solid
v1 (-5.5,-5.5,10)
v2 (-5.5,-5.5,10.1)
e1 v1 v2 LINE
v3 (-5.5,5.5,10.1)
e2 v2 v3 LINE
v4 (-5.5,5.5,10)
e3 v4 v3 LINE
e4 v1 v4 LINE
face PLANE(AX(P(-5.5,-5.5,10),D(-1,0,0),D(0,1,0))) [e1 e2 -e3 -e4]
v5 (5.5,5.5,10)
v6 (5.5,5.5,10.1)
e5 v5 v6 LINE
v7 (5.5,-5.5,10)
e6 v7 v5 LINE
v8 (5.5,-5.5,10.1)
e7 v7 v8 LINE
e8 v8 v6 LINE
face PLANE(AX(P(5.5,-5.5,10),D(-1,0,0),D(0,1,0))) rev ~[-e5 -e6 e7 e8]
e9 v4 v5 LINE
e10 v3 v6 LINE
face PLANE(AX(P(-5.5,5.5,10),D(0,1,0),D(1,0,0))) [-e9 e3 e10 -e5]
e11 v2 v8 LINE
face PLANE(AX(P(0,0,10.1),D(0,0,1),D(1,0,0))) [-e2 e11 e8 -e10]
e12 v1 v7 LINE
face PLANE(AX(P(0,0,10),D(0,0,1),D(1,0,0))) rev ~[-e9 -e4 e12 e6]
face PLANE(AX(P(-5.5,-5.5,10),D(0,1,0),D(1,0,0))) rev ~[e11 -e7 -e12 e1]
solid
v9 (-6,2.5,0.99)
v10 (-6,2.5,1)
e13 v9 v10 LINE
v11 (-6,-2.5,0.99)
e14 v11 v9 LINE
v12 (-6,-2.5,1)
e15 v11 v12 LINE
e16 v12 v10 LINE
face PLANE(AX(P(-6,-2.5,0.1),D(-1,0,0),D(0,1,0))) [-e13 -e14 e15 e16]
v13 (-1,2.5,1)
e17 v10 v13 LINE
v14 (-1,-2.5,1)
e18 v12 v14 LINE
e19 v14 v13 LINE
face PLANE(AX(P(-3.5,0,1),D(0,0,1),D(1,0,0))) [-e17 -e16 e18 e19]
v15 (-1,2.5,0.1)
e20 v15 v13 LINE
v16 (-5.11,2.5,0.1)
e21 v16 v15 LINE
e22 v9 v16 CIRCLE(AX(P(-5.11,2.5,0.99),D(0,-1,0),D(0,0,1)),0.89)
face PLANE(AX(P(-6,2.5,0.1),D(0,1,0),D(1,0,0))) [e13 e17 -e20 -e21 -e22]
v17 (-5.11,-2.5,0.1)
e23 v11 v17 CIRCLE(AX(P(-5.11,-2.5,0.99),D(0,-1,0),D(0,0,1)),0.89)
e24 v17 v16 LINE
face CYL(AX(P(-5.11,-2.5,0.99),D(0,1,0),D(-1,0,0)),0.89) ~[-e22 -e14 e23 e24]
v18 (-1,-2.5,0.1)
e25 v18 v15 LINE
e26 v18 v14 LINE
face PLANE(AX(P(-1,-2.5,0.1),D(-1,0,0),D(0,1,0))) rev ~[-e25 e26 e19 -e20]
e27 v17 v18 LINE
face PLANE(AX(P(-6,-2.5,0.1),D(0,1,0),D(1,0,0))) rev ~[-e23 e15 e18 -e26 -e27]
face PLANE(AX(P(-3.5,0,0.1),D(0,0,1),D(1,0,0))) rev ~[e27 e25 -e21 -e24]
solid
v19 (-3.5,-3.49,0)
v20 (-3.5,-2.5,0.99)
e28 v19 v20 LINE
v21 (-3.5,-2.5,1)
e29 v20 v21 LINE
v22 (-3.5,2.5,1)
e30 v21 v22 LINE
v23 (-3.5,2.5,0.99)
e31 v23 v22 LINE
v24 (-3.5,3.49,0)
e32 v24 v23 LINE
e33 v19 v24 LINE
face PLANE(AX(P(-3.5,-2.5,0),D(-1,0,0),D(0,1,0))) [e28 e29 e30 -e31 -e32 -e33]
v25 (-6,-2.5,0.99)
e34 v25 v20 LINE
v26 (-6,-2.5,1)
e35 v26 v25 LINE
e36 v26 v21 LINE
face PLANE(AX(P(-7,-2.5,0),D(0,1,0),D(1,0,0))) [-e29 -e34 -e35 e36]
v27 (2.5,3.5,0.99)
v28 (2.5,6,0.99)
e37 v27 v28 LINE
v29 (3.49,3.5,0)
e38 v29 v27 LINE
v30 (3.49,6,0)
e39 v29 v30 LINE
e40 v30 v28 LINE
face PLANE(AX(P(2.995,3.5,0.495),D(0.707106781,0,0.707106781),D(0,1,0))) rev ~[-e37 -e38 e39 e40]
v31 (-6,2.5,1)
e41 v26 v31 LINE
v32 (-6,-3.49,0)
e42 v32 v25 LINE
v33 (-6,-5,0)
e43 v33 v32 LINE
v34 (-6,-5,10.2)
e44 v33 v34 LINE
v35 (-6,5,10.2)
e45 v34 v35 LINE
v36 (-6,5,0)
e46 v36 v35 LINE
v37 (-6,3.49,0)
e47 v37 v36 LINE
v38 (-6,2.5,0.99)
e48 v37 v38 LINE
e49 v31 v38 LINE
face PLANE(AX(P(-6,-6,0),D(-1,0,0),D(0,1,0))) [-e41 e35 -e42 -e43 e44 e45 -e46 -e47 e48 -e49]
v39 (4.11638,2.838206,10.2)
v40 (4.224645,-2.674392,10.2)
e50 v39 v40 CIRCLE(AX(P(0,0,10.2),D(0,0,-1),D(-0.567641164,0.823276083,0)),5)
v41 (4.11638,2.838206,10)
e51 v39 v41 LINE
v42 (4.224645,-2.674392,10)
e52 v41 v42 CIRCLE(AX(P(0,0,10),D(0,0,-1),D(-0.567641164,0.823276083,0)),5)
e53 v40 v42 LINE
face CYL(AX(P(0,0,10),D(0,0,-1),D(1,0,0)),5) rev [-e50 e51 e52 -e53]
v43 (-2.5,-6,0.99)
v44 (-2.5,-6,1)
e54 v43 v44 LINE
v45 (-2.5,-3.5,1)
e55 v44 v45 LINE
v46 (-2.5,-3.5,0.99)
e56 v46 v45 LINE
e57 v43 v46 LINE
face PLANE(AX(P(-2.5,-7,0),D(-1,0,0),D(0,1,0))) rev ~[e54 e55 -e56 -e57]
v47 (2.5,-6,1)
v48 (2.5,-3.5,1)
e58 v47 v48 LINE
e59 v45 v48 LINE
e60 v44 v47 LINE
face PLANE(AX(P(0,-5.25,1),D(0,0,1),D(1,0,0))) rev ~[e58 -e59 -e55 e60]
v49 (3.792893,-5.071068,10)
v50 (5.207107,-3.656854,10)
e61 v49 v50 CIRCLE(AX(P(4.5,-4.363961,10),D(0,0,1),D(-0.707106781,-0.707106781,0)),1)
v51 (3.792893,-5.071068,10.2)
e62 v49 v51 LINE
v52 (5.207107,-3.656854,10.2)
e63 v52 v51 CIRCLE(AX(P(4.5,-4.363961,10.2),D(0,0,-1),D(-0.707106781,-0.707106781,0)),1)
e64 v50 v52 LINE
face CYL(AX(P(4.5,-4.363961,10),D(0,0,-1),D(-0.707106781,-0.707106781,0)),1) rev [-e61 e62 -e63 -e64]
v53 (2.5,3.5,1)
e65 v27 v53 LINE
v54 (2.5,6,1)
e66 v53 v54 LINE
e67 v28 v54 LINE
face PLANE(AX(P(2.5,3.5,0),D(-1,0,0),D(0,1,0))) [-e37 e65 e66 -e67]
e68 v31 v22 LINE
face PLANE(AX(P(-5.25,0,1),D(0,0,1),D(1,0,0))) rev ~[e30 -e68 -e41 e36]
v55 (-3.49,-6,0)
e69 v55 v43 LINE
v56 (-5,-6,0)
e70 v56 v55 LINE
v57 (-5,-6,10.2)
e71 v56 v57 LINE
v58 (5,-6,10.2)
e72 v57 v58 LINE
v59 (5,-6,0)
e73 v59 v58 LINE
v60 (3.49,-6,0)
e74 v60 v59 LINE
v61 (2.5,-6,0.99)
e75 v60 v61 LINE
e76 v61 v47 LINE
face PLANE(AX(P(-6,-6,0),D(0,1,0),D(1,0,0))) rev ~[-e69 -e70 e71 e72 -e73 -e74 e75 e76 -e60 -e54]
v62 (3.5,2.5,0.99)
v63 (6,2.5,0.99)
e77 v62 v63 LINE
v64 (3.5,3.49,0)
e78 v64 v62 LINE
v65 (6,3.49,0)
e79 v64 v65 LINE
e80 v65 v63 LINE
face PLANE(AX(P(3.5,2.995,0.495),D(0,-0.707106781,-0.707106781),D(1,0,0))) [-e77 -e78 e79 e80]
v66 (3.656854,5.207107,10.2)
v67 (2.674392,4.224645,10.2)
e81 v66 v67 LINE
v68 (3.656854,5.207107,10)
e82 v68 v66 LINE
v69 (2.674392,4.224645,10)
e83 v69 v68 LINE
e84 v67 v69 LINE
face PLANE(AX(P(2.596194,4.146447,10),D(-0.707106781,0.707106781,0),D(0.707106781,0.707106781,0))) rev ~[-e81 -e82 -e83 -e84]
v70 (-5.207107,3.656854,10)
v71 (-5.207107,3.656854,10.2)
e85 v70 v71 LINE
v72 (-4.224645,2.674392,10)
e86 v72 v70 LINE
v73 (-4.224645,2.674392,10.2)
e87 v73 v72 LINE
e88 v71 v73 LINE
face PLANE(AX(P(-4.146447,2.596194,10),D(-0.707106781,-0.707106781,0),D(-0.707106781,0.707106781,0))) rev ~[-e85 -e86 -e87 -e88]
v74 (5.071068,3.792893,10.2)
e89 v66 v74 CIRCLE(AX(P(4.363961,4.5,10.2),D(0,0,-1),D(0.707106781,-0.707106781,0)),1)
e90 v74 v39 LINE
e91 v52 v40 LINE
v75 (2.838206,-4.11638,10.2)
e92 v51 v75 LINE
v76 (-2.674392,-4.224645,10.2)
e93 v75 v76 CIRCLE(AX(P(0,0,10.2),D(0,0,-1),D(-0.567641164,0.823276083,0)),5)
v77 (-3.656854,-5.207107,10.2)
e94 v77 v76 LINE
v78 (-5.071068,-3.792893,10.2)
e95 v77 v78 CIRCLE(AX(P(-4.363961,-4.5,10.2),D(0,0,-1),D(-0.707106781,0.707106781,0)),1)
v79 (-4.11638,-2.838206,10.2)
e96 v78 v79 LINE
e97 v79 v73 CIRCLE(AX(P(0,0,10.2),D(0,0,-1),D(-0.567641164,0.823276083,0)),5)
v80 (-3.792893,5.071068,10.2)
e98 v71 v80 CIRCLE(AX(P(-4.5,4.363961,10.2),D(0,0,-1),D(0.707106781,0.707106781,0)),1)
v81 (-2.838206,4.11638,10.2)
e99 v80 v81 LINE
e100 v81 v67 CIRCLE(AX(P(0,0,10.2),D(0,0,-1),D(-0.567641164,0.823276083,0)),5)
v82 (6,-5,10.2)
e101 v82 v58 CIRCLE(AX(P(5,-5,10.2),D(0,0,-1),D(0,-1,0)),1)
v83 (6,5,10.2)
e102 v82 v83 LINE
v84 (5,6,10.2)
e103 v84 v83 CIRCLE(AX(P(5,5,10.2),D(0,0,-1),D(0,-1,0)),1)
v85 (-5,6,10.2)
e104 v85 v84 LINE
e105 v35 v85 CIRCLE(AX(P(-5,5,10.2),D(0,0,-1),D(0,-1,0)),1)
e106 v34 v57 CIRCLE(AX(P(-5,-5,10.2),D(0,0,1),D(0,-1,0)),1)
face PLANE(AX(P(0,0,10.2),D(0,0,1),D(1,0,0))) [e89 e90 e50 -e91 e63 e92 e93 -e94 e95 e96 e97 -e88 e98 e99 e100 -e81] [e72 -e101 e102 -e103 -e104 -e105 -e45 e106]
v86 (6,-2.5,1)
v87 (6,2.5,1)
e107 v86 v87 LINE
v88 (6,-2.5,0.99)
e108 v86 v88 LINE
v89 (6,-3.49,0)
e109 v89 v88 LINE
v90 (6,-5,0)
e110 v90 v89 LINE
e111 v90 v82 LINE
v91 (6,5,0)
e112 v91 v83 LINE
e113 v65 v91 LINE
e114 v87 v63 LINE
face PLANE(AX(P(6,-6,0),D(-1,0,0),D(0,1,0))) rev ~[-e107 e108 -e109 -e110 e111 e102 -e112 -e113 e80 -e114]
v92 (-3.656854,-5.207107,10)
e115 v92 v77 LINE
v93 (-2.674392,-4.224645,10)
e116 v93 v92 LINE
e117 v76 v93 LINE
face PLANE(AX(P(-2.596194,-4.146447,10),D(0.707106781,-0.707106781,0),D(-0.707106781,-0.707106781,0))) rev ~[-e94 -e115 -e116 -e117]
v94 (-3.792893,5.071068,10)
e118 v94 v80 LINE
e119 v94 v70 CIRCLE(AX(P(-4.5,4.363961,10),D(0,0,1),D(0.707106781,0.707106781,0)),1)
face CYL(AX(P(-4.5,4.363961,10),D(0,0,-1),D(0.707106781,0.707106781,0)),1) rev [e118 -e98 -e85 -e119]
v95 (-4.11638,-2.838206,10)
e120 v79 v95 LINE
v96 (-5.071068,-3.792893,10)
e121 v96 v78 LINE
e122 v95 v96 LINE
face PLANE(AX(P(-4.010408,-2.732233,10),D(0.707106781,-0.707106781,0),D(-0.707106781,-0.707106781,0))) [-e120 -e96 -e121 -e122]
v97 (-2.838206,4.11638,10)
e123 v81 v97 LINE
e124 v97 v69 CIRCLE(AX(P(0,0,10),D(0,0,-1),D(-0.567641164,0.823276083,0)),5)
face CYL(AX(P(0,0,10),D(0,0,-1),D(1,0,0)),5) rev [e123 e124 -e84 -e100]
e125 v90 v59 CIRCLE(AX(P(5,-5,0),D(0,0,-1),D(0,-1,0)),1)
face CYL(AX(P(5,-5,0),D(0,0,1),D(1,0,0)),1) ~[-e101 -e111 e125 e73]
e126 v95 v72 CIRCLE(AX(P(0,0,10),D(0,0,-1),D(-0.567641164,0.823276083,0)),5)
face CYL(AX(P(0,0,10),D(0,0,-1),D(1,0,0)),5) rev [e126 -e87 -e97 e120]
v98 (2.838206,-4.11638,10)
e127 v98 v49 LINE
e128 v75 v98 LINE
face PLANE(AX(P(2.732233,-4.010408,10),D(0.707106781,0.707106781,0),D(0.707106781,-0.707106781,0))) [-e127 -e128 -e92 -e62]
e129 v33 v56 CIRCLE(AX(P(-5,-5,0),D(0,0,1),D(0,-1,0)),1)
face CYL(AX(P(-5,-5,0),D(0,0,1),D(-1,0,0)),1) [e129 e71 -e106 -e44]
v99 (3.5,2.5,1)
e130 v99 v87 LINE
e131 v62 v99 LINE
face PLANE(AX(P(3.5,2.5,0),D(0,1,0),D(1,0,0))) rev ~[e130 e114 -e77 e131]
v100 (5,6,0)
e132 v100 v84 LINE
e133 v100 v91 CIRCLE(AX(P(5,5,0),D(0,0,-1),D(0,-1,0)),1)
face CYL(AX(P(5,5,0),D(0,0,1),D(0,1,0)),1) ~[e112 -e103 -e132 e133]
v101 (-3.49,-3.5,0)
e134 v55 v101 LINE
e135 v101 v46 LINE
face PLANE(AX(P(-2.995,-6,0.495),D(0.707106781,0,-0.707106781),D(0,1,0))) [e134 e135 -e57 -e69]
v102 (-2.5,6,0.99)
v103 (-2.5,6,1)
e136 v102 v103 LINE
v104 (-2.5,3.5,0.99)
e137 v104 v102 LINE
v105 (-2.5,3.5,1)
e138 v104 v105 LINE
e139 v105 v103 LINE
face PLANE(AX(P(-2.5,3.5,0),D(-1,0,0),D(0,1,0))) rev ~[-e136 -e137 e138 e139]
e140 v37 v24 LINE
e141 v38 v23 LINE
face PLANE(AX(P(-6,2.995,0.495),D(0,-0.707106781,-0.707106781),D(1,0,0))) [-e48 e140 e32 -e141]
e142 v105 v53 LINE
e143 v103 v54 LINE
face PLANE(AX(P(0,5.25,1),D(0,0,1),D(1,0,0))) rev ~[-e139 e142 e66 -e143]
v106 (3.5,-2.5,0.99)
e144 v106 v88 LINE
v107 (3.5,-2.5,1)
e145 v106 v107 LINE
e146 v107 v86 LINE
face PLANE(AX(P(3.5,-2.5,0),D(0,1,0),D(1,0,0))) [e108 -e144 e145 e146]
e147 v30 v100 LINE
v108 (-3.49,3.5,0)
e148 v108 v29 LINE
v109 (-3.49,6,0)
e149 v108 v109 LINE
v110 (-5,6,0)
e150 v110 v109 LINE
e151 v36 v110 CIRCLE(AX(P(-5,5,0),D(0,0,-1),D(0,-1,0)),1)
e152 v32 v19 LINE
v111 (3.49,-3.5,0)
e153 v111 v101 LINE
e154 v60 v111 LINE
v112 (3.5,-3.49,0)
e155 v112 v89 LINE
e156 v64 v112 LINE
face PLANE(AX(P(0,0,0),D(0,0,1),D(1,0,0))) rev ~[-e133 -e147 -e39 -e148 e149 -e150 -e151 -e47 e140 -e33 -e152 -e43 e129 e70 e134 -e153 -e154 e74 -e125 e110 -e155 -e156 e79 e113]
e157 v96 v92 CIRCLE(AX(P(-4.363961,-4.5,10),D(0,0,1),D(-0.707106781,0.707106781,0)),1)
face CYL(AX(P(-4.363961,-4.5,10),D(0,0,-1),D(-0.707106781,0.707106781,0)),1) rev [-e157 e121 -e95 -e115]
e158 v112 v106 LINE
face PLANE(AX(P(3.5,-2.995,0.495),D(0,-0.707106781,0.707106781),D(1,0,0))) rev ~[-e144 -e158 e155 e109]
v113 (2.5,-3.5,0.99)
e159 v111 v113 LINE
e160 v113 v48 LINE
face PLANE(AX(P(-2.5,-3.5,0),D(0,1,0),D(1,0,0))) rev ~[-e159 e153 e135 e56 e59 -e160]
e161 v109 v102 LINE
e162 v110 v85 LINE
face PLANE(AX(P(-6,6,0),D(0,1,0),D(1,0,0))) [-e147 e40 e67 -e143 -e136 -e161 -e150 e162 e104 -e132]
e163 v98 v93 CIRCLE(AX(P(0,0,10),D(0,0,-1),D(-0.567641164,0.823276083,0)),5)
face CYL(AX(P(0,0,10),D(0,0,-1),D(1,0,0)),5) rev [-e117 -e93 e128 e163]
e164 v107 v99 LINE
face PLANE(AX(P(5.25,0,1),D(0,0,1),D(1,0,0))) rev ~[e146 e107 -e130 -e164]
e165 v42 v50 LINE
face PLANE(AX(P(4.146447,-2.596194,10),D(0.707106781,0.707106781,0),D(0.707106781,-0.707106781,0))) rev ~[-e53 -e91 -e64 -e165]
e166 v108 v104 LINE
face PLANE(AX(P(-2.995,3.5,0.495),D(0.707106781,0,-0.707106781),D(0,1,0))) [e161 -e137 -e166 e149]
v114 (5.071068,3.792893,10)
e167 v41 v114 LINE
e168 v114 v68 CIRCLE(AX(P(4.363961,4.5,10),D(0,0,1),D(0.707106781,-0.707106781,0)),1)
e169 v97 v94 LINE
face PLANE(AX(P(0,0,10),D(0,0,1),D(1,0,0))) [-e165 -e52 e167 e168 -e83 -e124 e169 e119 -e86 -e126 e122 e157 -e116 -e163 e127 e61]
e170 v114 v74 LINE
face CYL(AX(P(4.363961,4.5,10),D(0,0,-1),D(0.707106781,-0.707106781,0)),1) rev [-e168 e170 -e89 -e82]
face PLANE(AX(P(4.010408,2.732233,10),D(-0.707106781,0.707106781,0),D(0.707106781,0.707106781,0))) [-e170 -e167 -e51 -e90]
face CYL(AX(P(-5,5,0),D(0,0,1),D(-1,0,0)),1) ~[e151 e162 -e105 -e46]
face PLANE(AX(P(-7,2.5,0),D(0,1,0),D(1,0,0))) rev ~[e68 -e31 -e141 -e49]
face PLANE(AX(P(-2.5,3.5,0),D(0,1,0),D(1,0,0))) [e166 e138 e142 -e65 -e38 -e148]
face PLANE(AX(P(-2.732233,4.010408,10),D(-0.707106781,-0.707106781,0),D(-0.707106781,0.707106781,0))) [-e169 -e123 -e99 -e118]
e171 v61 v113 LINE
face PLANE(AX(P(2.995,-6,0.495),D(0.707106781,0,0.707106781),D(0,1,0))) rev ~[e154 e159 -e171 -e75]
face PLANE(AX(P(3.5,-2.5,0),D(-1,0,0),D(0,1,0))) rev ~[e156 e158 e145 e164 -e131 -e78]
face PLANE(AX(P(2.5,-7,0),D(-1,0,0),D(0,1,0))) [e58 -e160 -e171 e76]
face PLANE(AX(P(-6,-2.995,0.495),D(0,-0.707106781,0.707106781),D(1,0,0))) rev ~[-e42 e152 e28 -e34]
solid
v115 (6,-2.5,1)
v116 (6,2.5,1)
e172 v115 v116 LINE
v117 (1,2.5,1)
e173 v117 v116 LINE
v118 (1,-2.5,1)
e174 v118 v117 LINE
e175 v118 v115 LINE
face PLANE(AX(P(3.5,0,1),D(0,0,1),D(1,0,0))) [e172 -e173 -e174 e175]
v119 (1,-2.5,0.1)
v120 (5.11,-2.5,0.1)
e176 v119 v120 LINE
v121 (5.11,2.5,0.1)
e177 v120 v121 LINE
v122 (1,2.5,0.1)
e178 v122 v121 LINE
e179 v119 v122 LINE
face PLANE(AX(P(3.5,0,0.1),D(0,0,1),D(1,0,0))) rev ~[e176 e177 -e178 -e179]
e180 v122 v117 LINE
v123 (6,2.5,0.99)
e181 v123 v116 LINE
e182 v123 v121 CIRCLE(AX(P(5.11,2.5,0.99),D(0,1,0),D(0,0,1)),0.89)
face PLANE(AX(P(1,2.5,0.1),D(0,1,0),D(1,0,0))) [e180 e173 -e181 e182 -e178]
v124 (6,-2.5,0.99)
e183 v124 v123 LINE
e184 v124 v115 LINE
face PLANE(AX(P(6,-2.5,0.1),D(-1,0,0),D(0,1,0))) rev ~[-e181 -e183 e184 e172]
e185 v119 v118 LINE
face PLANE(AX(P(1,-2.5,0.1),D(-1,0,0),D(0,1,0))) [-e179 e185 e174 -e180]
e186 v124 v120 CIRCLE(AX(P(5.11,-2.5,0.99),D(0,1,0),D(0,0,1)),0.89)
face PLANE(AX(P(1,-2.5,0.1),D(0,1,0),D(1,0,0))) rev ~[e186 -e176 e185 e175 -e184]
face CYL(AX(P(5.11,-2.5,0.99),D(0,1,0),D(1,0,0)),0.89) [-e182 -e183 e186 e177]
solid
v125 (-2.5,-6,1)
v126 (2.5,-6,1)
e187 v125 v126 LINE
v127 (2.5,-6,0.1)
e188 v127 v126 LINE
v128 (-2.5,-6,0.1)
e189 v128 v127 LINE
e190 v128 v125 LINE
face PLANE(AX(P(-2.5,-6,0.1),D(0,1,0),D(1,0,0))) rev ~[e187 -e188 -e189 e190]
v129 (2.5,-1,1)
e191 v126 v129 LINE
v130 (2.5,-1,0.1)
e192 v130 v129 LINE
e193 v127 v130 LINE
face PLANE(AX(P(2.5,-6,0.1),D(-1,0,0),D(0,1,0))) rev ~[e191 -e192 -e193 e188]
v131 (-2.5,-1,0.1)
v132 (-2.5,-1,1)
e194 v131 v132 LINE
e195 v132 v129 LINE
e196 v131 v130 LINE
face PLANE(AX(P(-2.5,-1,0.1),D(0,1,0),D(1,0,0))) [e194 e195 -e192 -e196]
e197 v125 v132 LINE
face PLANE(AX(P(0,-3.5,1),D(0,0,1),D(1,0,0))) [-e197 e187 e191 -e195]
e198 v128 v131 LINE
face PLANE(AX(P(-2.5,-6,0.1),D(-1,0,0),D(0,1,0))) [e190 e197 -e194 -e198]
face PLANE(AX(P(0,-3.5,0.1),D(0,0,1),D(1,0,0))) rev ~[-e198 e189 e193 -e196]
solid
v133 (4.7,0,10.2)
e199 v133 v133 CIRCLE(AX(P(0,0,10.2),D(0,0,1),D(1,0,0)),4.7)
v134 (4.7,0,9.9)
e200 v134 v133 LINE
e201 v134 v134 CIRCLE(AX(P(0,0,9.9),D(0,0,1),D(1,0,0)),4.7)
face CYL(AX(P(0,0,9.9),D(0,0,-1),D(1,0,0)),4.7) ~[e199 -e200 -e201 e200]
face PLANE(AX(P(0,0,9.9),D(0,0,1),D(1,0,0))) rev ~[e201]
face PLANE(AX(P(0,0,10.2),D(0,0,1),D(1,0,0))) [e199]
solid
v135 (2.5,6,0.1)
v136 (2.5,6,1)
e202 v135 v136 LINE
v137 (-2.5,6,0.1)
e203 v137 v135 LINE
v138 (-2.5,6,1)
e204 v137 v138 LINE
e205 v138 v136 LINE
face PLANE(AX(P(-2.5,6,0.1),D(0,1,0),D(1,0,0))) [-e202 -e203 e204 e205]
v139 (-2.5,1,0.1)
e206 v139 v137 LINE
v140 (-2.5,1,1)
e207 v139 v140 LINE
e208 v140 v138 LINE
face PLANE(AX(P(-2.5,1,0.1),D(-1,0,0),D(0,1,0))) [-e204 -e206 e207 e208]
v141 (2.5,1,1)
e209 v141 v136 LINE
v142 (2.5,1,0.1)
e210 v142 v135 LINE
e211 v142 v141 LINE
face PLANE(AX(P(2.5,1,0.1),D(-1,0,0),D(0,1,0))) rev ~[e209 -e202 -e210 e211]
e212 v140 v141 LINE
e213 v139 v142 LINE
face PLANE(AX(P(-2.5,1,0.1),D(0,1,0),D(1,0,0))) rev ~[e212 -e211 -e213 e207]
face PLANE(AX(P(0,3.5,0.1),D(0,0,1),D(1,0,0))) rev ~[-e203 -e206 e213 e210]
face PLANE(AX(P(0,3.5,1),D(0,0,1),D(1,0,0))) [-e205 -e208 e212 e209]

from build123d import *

# Parameters (mm, degrees)
BOX006_W                  = 5
BOX006_H                  = 5
BOX006_DEPTH              = 0.9
BOX007_W                  = 5
BOX007_H                  = 5
BOX007_DEPTH              = 0.9
BOX005_W                  = 5
BOX005_H                  = 5
BOX005_DEPTH              = 0.9
FILLET_R                  = 0.89
BOX004_W                  = 5
BOX004_H                  = 5
BOX004_DEPTH              = 0.9
FILLET003_R               = 0.89
CYLINDER002_R             = 4.7
CYLINDER002_DEPTH         = 0.3
BOX012_W                  = 11
BOX012_H                  = 11
BOX012_DEPTH              = 0.1
BOX009_W                  = 2
BOX009_H                  = 1.5
BOX009_DEPTH              = 0.3
CYLINDER007_R             = 1
CYLINDER007_DEPTH         = 0.3
FUSION001_PLACEMENT_ANGLE = 225
BOX008_W                  = 2
BOX008_H                  = 1.5
BOX008_DEPTH              = 0.3
CYLINDER006_R             = 1
CYLINDER006_DEPTH         = 0.3
FUSION_PLACEMENT_ANGLE    = -45
BOX011_W                  = 2
BOX011_H                  = 1.5
BOX011_DEPTH              = 0.3
CYLINDER009_R             = 1
CYLINDER009_DEPTH         = 0.3
FUSION003_PLACEMENT_ANGLE = 135
BOX010_W                  = 2
BOX010_H                  = 1.5
BOX010_DEPTH              = 0.3
CYLINDER008_R             = 1
CYLINDER008_DEPTH         = 0.3
FUSION002_PLACEMENT_ANGLE = 45
CYLINDER001_R             = 5
CYLINDER001_DEPTH         = 0.3
BOX001_W                  = 5
BOX001_H                  = 3.5
BOX001_DEPTH              = 1
BOX_W                     = 5
BOX_H                     = 3.5
BOX_DEPTH                 = 1
BOX002_W                  = 3.5
BOX002_H                  = 5
BOX002_DEPTH              = 1
BOX003_W                  = 3.5
BOX003_H                  = 5
BOX003_DEPTH              = 1
SKETCH_W                  = 12
SKETCH_H                  = 12
PAD_DEPTH                 = 10.2
CHAMFER_SIZE              = 0.99
FILLET002_R               = 1


with BuildPart() as kub006:
    # Box006 → Box006 (new body)
    with BuildSketch(Plane(origin=(-2.5, 1, 0.1), x_dir=(1, 0, 0), z_dir=(0, 0, 1))):
        with Locations((2.5, 2.5)):
            Rectangle(BOX006_W, BOX006_H)
    extrude(amount=BOX006_DEPTH)


with BuildPart() as kub007:
    # Box007 → Box007 (new body)
    with BuildSketch(Plane(origin=(-2.5, -6, 0.1), x_dir=(1, 0, 0), z_dir=(0, 0, 1))):
        with Locations((2.5, 2.5)):
            Rectangle(BOX007_W, BOX007_H)
    extrude(amount=BOX007_DEPTH)


with BuildPart() as fillet_body:
    # Box005 → Box005 (new body)
    with BuildSketch(Plane(origin=(-6, -2.5, 0.1), x_dir=(1, 0, 0), z_dir=(0, 0, 1))):
        with Locations((2.5, 2.5)):
            Rectangle(BOX005_W, BOX005_H)
    extrude(amount=BOX005_DEPTH)

    # Fillet
    fillet_edges = [fillet_body.edges().sort_by_distance(p)[0] for p in [
        (-6, 0, 0.1),
    ]]
    fillet(fillet_edges, radius=FILLET_R)


with BuildPart() as fillet003:
    # Box004 → Box004 (new body)
    with BuildSketch(Plane(origin=(1, -2.5, 0.1), x_dir=(1, 0, 0), z_dir=(0, 0, 1))):
        with Locations((2.5, 2.5)):
            Rectangle(BOX004_W, BOX004_H)
    extrude(amount=BOX004_DEPTH)

    # Fillet003
    fillet003_edges = [fillet003.edges().sort_by_distance(p)[0] for p in [
        (6, 0, 0.1),
    ]]
    fillet(fillet003_edges, radius=FILLET003_R)


with BuildPart() as cylinder002:
    # Cylinder002 → Cylinder002 (new body)
    with BuildSketch(Plane.XY.offset(9.9)):
        Circle(CYLINDER002_R)
    extrude(amount=CYLINDER002_DEPTH)


with BuildPart() as kub012:
    # Box012 → Box012 (new body)
    with BuildSketch(Plane(origin=(-5.5, -5.5, 10), x_dir=(1, 0, 0), z_dir=(0, 0, 1))):
        with Locations((5.5, 5.5)):
            Rectangle(BOX012_W, BOX012_H)
    extrude(amount=BOX012_DEPTH)


with BuildPart() as kub009:
    # Box009 → Box009 (new body)
    with BuildSketch(Plane(origin=(3.5, 3, 10), x_dir=(1, 0, 0), z_dir=(0, 0, 1))):
        with Locations((1, 0.75)):
            Rectangle(BOX009_W, BOX009_H)
    extrude(amount=BOX009_DEPTH)


with BuildPart() as fusion001:
    # Cylinder007 → Cylinder007 (new body)
    with BuildSketch(Plane(origin=(4.5, 4.5, 10), x_dir=(1, 0, 0), z_dir=(0, 0, 1))):
        Circle(CYLINDER007_R)
    extrude(amount=CYLINDER007_DEPTH)

    # Fusion001: union Kub009
    add(kub009.part)


with BuildPart() as fusion001_1:
    # Fusion001 placement: moved
    add(fusion001.part.moved(Location((4.5, 2, 0))).rotate(Axis((4.5, 2, 0), (0, 0, 1)), FUSION001_PLACEMENT_ANGLE))


with BuildPart() as kub008:
    # Box008 → Box008 (new body)
    with BuildSketch(Plane(origin=(3.5, 3, 10), x_dir=(1, 0, 0), z_dir=(0, 0, 1))):
        with Locations((1, 0.75)):
            Rectangle(BOX008_W, BOX008_H)
    extrude(amount=BOX008_DEPTH)


with BuildPart() as fusion:
    # Cylinder006 → Cylinder006 (new body)
    with BuildSketch(Plane(origin=(4.5, 4.5, 10), x_dir=(1, 0, 0), z_dir=(0, 0, 1))):
        Circle(CYLINDER006_R)
    extrude(amount=CYLINDER006_DEPTH)

    # Fusion: union Kub008
    add(kub008.part)


with BuildPart() as fusion_1:
    # Fusion placement: moved
    add(fusion.part.moved(Location((-2, 4.5, 0))).rotate(Axis((-2, 4.5, 0), (0, 0, 1)), FUSION_PLACEMENT_ANGLE))


with BuildPart() as kub011:
    # Box011 → Box011 (new body)
    with BuildSketch(Plane(origin=(3.5, 3, 10), x_dir=(1, 0, 0), z_dir=(0, 0, 1))):
        with Locations((1, 0.75)):
            Rectangle(BOX011_W, BOX011_H)
    extrude(amount=BOX011_DEPTH)


with BuildPart() as fusion003:
    # Cylinder009 → Cylinder009 (new body)
    with BuildSketch(Plane(origin=(4.5, 4.5, 10), x_dir=(1, 0, 0), z_dir=(0, 0, 1))):
        Circle(CYLINDER009_R)
    extrude(amount=CYLINDER009_DEPTH)

    # Fusion003: union Kub011
    add(kub011.part)


with BuildPart() as fusion003_1:
    # Fusion003 placement: moved
    add(fusion003.part.moved(Location((2, -4.5, 0))).rotate(Axis((2, -4.5, 0), (0, 0, 1)), FUSION003_PLACEMENT_ANGLE))


with BuildPart() as kub010:
    # Box010 → Box010 (new body)
    with BuildSketch(Plane(origin=(3.5, 3, 10), x_dir=(1, 0, 0), z_dir=(0, 0, 1))):
        with Locations((1, 0.75)):
            Rectangle(BOX010_W, BOX010_H)
    extrude(amount=BOX010_DEPTH)


with BuildPart() as fusion002:
    # Cylinder008 → Cylinder008 (new body)
    with BuildSketch(Plane(origin=(4.5, 4.5, 10), x_dir=(1, 0, 0), z_dir=(0, 0, 1))):
        Circle(CYLINDER008_R)
    extrude(amount=CYLINDER008_DEPTH)

    # Fusion002: union Kub010
    add(kub010.part)


with BuildPart() as fusion002_1:
    # Fusion002 placement: moved
    add(fusion002.part.moved(Location((-4.5, -2, 0))).rotate(Axis((-4.5, -2, 0), (0, 0, 1)), FUSION002_PLACEMENT_ANGLE))


with BuildPart() as cylinder001:
    # Cylinder001 → Cylinder001 (new body)
    with BuildSketch(Plane.XY.offset(10)):
        Circle(CYLINDER001_R)
    extrude(amount=CYLINDER001_DEPTH)


with BuildPart() as kub001:
    # Box001 → Box001 (new body)
    with BuildSketch(Plane(origin=(-2.5, -7, 0), x_dir=(1, 0, 0), z_dir=(0, 0, 1))):
        with Locations((2.5, 1.75)):
            Rectangle(BOX001_W, BOX001_H)
    extrude(amount=BOX001_DEPTH)


with BuildPart() as kub:
    # Box → Box (new body)
    with BuildSketch(Plane(origin=(-2.5, 3.5, 0), x_dir=(1, 0, 0), z_dir=(0, 0, 1))):
        with Locations((2.5, 1.75)):
            Rectangle(BOX_W, BOX_H)
    extrude(amount=BOX_DEPTH)


with BuildPart() as kub002:
    # Box002 → Box002 (new body)
    with BuildSketch(Plane(origin=(-7, -2.5, 0), x_dir=(1, 0, 0), z_dir=(0, 0, 1))):
        with Locations((1.75, 2.5)):
            Rectangle(BOX002_W, BOX002_H)
    extrude(amount=BOX002_DEPTH)


with BuildPart() as kub003:
    # Box003 → Box003 (new body)
    with BuildSketch(Plane(origin=(3.5, -2.5, 0), x_dir=(1, 0, 0), z_dir=(0, 0, 1))):
        with Locations((1.75, 2.5)):
            Rectangle(BOX003_W, BOX003_H)
    extrude(amount=BOX003_DEPTH)


with BuildPart() as cut008:
    # Sketch → Pad (new body)
    with BuildSketch(Plane.XY):
        Rectangle(SKETCH_W, SKETCH_H)
    extrude(amount=PAD_DEPTH)

    # Cut: cut Kub003
    add(kub003.part, mode=Mode.SUBTRACT)

    # Cut001: cut Kub002
    add(kub002.part, mode=Mode.SUBTRACT)

    # Cut002: cut Kub
    add(kub.part, mode=Mode.SUBTRACT)

    # Cut003: cut Kub001
    add(kub001.part, mode=Mode.SUBTRACT)

    # Chamfer
    chamfer_edges = [cut008.edges().sort_by_distance(p)[0] for p in [
        (4.75, -2.5, 0),
        (4.75, 2.5, 0),
        (2.5, 4.75, 0),
        (-2.5, 4.75, 0),
        (-4.75, 2.5, 0),
        (-4.75, -2.5, 0),
        (-2.5, -4.75, 0),
        (2.5, -4.75, 0),
    ]]
    chamfer(chamfer_edges, length=CHAMFER_SIZE)

    # Fillet002
    fillet002_edges = [cut008.edges().sort_by_distance(p)[0] for p in [
        (-6, 6, 5.1),
        (6, 6, 5.1),
        (-6, -6, 5.1),
        (6, -6, 5.1),
    ]]
    fillet(fillet002_edges, radius=FILLET002_R)

    # Cut004: cut Cylinder001
    add(cylinder001.part, mode=Mode.SUBTRACT)

    # Cut005: cut Fusion002
    add(fusion002_1.part, mode=Mode.SUBTRACT)

    # Cut006: cut Fusion003
    add(fusion003_1.part, mode=Mode.SUBTRACT)

    # Cut007: cut Fusion
    add(fusion_1.part, mode=Mode.SUBTRACT)

    # Cut008: cut Fusion001
    add(fusion001_1.part, mode=Mode.SUBTRACT)


solid = Compound([kub006.part, kub007.part, fillet_body.part, fillet003.part, cylinder002.part, kub012.part, cut008.part])
